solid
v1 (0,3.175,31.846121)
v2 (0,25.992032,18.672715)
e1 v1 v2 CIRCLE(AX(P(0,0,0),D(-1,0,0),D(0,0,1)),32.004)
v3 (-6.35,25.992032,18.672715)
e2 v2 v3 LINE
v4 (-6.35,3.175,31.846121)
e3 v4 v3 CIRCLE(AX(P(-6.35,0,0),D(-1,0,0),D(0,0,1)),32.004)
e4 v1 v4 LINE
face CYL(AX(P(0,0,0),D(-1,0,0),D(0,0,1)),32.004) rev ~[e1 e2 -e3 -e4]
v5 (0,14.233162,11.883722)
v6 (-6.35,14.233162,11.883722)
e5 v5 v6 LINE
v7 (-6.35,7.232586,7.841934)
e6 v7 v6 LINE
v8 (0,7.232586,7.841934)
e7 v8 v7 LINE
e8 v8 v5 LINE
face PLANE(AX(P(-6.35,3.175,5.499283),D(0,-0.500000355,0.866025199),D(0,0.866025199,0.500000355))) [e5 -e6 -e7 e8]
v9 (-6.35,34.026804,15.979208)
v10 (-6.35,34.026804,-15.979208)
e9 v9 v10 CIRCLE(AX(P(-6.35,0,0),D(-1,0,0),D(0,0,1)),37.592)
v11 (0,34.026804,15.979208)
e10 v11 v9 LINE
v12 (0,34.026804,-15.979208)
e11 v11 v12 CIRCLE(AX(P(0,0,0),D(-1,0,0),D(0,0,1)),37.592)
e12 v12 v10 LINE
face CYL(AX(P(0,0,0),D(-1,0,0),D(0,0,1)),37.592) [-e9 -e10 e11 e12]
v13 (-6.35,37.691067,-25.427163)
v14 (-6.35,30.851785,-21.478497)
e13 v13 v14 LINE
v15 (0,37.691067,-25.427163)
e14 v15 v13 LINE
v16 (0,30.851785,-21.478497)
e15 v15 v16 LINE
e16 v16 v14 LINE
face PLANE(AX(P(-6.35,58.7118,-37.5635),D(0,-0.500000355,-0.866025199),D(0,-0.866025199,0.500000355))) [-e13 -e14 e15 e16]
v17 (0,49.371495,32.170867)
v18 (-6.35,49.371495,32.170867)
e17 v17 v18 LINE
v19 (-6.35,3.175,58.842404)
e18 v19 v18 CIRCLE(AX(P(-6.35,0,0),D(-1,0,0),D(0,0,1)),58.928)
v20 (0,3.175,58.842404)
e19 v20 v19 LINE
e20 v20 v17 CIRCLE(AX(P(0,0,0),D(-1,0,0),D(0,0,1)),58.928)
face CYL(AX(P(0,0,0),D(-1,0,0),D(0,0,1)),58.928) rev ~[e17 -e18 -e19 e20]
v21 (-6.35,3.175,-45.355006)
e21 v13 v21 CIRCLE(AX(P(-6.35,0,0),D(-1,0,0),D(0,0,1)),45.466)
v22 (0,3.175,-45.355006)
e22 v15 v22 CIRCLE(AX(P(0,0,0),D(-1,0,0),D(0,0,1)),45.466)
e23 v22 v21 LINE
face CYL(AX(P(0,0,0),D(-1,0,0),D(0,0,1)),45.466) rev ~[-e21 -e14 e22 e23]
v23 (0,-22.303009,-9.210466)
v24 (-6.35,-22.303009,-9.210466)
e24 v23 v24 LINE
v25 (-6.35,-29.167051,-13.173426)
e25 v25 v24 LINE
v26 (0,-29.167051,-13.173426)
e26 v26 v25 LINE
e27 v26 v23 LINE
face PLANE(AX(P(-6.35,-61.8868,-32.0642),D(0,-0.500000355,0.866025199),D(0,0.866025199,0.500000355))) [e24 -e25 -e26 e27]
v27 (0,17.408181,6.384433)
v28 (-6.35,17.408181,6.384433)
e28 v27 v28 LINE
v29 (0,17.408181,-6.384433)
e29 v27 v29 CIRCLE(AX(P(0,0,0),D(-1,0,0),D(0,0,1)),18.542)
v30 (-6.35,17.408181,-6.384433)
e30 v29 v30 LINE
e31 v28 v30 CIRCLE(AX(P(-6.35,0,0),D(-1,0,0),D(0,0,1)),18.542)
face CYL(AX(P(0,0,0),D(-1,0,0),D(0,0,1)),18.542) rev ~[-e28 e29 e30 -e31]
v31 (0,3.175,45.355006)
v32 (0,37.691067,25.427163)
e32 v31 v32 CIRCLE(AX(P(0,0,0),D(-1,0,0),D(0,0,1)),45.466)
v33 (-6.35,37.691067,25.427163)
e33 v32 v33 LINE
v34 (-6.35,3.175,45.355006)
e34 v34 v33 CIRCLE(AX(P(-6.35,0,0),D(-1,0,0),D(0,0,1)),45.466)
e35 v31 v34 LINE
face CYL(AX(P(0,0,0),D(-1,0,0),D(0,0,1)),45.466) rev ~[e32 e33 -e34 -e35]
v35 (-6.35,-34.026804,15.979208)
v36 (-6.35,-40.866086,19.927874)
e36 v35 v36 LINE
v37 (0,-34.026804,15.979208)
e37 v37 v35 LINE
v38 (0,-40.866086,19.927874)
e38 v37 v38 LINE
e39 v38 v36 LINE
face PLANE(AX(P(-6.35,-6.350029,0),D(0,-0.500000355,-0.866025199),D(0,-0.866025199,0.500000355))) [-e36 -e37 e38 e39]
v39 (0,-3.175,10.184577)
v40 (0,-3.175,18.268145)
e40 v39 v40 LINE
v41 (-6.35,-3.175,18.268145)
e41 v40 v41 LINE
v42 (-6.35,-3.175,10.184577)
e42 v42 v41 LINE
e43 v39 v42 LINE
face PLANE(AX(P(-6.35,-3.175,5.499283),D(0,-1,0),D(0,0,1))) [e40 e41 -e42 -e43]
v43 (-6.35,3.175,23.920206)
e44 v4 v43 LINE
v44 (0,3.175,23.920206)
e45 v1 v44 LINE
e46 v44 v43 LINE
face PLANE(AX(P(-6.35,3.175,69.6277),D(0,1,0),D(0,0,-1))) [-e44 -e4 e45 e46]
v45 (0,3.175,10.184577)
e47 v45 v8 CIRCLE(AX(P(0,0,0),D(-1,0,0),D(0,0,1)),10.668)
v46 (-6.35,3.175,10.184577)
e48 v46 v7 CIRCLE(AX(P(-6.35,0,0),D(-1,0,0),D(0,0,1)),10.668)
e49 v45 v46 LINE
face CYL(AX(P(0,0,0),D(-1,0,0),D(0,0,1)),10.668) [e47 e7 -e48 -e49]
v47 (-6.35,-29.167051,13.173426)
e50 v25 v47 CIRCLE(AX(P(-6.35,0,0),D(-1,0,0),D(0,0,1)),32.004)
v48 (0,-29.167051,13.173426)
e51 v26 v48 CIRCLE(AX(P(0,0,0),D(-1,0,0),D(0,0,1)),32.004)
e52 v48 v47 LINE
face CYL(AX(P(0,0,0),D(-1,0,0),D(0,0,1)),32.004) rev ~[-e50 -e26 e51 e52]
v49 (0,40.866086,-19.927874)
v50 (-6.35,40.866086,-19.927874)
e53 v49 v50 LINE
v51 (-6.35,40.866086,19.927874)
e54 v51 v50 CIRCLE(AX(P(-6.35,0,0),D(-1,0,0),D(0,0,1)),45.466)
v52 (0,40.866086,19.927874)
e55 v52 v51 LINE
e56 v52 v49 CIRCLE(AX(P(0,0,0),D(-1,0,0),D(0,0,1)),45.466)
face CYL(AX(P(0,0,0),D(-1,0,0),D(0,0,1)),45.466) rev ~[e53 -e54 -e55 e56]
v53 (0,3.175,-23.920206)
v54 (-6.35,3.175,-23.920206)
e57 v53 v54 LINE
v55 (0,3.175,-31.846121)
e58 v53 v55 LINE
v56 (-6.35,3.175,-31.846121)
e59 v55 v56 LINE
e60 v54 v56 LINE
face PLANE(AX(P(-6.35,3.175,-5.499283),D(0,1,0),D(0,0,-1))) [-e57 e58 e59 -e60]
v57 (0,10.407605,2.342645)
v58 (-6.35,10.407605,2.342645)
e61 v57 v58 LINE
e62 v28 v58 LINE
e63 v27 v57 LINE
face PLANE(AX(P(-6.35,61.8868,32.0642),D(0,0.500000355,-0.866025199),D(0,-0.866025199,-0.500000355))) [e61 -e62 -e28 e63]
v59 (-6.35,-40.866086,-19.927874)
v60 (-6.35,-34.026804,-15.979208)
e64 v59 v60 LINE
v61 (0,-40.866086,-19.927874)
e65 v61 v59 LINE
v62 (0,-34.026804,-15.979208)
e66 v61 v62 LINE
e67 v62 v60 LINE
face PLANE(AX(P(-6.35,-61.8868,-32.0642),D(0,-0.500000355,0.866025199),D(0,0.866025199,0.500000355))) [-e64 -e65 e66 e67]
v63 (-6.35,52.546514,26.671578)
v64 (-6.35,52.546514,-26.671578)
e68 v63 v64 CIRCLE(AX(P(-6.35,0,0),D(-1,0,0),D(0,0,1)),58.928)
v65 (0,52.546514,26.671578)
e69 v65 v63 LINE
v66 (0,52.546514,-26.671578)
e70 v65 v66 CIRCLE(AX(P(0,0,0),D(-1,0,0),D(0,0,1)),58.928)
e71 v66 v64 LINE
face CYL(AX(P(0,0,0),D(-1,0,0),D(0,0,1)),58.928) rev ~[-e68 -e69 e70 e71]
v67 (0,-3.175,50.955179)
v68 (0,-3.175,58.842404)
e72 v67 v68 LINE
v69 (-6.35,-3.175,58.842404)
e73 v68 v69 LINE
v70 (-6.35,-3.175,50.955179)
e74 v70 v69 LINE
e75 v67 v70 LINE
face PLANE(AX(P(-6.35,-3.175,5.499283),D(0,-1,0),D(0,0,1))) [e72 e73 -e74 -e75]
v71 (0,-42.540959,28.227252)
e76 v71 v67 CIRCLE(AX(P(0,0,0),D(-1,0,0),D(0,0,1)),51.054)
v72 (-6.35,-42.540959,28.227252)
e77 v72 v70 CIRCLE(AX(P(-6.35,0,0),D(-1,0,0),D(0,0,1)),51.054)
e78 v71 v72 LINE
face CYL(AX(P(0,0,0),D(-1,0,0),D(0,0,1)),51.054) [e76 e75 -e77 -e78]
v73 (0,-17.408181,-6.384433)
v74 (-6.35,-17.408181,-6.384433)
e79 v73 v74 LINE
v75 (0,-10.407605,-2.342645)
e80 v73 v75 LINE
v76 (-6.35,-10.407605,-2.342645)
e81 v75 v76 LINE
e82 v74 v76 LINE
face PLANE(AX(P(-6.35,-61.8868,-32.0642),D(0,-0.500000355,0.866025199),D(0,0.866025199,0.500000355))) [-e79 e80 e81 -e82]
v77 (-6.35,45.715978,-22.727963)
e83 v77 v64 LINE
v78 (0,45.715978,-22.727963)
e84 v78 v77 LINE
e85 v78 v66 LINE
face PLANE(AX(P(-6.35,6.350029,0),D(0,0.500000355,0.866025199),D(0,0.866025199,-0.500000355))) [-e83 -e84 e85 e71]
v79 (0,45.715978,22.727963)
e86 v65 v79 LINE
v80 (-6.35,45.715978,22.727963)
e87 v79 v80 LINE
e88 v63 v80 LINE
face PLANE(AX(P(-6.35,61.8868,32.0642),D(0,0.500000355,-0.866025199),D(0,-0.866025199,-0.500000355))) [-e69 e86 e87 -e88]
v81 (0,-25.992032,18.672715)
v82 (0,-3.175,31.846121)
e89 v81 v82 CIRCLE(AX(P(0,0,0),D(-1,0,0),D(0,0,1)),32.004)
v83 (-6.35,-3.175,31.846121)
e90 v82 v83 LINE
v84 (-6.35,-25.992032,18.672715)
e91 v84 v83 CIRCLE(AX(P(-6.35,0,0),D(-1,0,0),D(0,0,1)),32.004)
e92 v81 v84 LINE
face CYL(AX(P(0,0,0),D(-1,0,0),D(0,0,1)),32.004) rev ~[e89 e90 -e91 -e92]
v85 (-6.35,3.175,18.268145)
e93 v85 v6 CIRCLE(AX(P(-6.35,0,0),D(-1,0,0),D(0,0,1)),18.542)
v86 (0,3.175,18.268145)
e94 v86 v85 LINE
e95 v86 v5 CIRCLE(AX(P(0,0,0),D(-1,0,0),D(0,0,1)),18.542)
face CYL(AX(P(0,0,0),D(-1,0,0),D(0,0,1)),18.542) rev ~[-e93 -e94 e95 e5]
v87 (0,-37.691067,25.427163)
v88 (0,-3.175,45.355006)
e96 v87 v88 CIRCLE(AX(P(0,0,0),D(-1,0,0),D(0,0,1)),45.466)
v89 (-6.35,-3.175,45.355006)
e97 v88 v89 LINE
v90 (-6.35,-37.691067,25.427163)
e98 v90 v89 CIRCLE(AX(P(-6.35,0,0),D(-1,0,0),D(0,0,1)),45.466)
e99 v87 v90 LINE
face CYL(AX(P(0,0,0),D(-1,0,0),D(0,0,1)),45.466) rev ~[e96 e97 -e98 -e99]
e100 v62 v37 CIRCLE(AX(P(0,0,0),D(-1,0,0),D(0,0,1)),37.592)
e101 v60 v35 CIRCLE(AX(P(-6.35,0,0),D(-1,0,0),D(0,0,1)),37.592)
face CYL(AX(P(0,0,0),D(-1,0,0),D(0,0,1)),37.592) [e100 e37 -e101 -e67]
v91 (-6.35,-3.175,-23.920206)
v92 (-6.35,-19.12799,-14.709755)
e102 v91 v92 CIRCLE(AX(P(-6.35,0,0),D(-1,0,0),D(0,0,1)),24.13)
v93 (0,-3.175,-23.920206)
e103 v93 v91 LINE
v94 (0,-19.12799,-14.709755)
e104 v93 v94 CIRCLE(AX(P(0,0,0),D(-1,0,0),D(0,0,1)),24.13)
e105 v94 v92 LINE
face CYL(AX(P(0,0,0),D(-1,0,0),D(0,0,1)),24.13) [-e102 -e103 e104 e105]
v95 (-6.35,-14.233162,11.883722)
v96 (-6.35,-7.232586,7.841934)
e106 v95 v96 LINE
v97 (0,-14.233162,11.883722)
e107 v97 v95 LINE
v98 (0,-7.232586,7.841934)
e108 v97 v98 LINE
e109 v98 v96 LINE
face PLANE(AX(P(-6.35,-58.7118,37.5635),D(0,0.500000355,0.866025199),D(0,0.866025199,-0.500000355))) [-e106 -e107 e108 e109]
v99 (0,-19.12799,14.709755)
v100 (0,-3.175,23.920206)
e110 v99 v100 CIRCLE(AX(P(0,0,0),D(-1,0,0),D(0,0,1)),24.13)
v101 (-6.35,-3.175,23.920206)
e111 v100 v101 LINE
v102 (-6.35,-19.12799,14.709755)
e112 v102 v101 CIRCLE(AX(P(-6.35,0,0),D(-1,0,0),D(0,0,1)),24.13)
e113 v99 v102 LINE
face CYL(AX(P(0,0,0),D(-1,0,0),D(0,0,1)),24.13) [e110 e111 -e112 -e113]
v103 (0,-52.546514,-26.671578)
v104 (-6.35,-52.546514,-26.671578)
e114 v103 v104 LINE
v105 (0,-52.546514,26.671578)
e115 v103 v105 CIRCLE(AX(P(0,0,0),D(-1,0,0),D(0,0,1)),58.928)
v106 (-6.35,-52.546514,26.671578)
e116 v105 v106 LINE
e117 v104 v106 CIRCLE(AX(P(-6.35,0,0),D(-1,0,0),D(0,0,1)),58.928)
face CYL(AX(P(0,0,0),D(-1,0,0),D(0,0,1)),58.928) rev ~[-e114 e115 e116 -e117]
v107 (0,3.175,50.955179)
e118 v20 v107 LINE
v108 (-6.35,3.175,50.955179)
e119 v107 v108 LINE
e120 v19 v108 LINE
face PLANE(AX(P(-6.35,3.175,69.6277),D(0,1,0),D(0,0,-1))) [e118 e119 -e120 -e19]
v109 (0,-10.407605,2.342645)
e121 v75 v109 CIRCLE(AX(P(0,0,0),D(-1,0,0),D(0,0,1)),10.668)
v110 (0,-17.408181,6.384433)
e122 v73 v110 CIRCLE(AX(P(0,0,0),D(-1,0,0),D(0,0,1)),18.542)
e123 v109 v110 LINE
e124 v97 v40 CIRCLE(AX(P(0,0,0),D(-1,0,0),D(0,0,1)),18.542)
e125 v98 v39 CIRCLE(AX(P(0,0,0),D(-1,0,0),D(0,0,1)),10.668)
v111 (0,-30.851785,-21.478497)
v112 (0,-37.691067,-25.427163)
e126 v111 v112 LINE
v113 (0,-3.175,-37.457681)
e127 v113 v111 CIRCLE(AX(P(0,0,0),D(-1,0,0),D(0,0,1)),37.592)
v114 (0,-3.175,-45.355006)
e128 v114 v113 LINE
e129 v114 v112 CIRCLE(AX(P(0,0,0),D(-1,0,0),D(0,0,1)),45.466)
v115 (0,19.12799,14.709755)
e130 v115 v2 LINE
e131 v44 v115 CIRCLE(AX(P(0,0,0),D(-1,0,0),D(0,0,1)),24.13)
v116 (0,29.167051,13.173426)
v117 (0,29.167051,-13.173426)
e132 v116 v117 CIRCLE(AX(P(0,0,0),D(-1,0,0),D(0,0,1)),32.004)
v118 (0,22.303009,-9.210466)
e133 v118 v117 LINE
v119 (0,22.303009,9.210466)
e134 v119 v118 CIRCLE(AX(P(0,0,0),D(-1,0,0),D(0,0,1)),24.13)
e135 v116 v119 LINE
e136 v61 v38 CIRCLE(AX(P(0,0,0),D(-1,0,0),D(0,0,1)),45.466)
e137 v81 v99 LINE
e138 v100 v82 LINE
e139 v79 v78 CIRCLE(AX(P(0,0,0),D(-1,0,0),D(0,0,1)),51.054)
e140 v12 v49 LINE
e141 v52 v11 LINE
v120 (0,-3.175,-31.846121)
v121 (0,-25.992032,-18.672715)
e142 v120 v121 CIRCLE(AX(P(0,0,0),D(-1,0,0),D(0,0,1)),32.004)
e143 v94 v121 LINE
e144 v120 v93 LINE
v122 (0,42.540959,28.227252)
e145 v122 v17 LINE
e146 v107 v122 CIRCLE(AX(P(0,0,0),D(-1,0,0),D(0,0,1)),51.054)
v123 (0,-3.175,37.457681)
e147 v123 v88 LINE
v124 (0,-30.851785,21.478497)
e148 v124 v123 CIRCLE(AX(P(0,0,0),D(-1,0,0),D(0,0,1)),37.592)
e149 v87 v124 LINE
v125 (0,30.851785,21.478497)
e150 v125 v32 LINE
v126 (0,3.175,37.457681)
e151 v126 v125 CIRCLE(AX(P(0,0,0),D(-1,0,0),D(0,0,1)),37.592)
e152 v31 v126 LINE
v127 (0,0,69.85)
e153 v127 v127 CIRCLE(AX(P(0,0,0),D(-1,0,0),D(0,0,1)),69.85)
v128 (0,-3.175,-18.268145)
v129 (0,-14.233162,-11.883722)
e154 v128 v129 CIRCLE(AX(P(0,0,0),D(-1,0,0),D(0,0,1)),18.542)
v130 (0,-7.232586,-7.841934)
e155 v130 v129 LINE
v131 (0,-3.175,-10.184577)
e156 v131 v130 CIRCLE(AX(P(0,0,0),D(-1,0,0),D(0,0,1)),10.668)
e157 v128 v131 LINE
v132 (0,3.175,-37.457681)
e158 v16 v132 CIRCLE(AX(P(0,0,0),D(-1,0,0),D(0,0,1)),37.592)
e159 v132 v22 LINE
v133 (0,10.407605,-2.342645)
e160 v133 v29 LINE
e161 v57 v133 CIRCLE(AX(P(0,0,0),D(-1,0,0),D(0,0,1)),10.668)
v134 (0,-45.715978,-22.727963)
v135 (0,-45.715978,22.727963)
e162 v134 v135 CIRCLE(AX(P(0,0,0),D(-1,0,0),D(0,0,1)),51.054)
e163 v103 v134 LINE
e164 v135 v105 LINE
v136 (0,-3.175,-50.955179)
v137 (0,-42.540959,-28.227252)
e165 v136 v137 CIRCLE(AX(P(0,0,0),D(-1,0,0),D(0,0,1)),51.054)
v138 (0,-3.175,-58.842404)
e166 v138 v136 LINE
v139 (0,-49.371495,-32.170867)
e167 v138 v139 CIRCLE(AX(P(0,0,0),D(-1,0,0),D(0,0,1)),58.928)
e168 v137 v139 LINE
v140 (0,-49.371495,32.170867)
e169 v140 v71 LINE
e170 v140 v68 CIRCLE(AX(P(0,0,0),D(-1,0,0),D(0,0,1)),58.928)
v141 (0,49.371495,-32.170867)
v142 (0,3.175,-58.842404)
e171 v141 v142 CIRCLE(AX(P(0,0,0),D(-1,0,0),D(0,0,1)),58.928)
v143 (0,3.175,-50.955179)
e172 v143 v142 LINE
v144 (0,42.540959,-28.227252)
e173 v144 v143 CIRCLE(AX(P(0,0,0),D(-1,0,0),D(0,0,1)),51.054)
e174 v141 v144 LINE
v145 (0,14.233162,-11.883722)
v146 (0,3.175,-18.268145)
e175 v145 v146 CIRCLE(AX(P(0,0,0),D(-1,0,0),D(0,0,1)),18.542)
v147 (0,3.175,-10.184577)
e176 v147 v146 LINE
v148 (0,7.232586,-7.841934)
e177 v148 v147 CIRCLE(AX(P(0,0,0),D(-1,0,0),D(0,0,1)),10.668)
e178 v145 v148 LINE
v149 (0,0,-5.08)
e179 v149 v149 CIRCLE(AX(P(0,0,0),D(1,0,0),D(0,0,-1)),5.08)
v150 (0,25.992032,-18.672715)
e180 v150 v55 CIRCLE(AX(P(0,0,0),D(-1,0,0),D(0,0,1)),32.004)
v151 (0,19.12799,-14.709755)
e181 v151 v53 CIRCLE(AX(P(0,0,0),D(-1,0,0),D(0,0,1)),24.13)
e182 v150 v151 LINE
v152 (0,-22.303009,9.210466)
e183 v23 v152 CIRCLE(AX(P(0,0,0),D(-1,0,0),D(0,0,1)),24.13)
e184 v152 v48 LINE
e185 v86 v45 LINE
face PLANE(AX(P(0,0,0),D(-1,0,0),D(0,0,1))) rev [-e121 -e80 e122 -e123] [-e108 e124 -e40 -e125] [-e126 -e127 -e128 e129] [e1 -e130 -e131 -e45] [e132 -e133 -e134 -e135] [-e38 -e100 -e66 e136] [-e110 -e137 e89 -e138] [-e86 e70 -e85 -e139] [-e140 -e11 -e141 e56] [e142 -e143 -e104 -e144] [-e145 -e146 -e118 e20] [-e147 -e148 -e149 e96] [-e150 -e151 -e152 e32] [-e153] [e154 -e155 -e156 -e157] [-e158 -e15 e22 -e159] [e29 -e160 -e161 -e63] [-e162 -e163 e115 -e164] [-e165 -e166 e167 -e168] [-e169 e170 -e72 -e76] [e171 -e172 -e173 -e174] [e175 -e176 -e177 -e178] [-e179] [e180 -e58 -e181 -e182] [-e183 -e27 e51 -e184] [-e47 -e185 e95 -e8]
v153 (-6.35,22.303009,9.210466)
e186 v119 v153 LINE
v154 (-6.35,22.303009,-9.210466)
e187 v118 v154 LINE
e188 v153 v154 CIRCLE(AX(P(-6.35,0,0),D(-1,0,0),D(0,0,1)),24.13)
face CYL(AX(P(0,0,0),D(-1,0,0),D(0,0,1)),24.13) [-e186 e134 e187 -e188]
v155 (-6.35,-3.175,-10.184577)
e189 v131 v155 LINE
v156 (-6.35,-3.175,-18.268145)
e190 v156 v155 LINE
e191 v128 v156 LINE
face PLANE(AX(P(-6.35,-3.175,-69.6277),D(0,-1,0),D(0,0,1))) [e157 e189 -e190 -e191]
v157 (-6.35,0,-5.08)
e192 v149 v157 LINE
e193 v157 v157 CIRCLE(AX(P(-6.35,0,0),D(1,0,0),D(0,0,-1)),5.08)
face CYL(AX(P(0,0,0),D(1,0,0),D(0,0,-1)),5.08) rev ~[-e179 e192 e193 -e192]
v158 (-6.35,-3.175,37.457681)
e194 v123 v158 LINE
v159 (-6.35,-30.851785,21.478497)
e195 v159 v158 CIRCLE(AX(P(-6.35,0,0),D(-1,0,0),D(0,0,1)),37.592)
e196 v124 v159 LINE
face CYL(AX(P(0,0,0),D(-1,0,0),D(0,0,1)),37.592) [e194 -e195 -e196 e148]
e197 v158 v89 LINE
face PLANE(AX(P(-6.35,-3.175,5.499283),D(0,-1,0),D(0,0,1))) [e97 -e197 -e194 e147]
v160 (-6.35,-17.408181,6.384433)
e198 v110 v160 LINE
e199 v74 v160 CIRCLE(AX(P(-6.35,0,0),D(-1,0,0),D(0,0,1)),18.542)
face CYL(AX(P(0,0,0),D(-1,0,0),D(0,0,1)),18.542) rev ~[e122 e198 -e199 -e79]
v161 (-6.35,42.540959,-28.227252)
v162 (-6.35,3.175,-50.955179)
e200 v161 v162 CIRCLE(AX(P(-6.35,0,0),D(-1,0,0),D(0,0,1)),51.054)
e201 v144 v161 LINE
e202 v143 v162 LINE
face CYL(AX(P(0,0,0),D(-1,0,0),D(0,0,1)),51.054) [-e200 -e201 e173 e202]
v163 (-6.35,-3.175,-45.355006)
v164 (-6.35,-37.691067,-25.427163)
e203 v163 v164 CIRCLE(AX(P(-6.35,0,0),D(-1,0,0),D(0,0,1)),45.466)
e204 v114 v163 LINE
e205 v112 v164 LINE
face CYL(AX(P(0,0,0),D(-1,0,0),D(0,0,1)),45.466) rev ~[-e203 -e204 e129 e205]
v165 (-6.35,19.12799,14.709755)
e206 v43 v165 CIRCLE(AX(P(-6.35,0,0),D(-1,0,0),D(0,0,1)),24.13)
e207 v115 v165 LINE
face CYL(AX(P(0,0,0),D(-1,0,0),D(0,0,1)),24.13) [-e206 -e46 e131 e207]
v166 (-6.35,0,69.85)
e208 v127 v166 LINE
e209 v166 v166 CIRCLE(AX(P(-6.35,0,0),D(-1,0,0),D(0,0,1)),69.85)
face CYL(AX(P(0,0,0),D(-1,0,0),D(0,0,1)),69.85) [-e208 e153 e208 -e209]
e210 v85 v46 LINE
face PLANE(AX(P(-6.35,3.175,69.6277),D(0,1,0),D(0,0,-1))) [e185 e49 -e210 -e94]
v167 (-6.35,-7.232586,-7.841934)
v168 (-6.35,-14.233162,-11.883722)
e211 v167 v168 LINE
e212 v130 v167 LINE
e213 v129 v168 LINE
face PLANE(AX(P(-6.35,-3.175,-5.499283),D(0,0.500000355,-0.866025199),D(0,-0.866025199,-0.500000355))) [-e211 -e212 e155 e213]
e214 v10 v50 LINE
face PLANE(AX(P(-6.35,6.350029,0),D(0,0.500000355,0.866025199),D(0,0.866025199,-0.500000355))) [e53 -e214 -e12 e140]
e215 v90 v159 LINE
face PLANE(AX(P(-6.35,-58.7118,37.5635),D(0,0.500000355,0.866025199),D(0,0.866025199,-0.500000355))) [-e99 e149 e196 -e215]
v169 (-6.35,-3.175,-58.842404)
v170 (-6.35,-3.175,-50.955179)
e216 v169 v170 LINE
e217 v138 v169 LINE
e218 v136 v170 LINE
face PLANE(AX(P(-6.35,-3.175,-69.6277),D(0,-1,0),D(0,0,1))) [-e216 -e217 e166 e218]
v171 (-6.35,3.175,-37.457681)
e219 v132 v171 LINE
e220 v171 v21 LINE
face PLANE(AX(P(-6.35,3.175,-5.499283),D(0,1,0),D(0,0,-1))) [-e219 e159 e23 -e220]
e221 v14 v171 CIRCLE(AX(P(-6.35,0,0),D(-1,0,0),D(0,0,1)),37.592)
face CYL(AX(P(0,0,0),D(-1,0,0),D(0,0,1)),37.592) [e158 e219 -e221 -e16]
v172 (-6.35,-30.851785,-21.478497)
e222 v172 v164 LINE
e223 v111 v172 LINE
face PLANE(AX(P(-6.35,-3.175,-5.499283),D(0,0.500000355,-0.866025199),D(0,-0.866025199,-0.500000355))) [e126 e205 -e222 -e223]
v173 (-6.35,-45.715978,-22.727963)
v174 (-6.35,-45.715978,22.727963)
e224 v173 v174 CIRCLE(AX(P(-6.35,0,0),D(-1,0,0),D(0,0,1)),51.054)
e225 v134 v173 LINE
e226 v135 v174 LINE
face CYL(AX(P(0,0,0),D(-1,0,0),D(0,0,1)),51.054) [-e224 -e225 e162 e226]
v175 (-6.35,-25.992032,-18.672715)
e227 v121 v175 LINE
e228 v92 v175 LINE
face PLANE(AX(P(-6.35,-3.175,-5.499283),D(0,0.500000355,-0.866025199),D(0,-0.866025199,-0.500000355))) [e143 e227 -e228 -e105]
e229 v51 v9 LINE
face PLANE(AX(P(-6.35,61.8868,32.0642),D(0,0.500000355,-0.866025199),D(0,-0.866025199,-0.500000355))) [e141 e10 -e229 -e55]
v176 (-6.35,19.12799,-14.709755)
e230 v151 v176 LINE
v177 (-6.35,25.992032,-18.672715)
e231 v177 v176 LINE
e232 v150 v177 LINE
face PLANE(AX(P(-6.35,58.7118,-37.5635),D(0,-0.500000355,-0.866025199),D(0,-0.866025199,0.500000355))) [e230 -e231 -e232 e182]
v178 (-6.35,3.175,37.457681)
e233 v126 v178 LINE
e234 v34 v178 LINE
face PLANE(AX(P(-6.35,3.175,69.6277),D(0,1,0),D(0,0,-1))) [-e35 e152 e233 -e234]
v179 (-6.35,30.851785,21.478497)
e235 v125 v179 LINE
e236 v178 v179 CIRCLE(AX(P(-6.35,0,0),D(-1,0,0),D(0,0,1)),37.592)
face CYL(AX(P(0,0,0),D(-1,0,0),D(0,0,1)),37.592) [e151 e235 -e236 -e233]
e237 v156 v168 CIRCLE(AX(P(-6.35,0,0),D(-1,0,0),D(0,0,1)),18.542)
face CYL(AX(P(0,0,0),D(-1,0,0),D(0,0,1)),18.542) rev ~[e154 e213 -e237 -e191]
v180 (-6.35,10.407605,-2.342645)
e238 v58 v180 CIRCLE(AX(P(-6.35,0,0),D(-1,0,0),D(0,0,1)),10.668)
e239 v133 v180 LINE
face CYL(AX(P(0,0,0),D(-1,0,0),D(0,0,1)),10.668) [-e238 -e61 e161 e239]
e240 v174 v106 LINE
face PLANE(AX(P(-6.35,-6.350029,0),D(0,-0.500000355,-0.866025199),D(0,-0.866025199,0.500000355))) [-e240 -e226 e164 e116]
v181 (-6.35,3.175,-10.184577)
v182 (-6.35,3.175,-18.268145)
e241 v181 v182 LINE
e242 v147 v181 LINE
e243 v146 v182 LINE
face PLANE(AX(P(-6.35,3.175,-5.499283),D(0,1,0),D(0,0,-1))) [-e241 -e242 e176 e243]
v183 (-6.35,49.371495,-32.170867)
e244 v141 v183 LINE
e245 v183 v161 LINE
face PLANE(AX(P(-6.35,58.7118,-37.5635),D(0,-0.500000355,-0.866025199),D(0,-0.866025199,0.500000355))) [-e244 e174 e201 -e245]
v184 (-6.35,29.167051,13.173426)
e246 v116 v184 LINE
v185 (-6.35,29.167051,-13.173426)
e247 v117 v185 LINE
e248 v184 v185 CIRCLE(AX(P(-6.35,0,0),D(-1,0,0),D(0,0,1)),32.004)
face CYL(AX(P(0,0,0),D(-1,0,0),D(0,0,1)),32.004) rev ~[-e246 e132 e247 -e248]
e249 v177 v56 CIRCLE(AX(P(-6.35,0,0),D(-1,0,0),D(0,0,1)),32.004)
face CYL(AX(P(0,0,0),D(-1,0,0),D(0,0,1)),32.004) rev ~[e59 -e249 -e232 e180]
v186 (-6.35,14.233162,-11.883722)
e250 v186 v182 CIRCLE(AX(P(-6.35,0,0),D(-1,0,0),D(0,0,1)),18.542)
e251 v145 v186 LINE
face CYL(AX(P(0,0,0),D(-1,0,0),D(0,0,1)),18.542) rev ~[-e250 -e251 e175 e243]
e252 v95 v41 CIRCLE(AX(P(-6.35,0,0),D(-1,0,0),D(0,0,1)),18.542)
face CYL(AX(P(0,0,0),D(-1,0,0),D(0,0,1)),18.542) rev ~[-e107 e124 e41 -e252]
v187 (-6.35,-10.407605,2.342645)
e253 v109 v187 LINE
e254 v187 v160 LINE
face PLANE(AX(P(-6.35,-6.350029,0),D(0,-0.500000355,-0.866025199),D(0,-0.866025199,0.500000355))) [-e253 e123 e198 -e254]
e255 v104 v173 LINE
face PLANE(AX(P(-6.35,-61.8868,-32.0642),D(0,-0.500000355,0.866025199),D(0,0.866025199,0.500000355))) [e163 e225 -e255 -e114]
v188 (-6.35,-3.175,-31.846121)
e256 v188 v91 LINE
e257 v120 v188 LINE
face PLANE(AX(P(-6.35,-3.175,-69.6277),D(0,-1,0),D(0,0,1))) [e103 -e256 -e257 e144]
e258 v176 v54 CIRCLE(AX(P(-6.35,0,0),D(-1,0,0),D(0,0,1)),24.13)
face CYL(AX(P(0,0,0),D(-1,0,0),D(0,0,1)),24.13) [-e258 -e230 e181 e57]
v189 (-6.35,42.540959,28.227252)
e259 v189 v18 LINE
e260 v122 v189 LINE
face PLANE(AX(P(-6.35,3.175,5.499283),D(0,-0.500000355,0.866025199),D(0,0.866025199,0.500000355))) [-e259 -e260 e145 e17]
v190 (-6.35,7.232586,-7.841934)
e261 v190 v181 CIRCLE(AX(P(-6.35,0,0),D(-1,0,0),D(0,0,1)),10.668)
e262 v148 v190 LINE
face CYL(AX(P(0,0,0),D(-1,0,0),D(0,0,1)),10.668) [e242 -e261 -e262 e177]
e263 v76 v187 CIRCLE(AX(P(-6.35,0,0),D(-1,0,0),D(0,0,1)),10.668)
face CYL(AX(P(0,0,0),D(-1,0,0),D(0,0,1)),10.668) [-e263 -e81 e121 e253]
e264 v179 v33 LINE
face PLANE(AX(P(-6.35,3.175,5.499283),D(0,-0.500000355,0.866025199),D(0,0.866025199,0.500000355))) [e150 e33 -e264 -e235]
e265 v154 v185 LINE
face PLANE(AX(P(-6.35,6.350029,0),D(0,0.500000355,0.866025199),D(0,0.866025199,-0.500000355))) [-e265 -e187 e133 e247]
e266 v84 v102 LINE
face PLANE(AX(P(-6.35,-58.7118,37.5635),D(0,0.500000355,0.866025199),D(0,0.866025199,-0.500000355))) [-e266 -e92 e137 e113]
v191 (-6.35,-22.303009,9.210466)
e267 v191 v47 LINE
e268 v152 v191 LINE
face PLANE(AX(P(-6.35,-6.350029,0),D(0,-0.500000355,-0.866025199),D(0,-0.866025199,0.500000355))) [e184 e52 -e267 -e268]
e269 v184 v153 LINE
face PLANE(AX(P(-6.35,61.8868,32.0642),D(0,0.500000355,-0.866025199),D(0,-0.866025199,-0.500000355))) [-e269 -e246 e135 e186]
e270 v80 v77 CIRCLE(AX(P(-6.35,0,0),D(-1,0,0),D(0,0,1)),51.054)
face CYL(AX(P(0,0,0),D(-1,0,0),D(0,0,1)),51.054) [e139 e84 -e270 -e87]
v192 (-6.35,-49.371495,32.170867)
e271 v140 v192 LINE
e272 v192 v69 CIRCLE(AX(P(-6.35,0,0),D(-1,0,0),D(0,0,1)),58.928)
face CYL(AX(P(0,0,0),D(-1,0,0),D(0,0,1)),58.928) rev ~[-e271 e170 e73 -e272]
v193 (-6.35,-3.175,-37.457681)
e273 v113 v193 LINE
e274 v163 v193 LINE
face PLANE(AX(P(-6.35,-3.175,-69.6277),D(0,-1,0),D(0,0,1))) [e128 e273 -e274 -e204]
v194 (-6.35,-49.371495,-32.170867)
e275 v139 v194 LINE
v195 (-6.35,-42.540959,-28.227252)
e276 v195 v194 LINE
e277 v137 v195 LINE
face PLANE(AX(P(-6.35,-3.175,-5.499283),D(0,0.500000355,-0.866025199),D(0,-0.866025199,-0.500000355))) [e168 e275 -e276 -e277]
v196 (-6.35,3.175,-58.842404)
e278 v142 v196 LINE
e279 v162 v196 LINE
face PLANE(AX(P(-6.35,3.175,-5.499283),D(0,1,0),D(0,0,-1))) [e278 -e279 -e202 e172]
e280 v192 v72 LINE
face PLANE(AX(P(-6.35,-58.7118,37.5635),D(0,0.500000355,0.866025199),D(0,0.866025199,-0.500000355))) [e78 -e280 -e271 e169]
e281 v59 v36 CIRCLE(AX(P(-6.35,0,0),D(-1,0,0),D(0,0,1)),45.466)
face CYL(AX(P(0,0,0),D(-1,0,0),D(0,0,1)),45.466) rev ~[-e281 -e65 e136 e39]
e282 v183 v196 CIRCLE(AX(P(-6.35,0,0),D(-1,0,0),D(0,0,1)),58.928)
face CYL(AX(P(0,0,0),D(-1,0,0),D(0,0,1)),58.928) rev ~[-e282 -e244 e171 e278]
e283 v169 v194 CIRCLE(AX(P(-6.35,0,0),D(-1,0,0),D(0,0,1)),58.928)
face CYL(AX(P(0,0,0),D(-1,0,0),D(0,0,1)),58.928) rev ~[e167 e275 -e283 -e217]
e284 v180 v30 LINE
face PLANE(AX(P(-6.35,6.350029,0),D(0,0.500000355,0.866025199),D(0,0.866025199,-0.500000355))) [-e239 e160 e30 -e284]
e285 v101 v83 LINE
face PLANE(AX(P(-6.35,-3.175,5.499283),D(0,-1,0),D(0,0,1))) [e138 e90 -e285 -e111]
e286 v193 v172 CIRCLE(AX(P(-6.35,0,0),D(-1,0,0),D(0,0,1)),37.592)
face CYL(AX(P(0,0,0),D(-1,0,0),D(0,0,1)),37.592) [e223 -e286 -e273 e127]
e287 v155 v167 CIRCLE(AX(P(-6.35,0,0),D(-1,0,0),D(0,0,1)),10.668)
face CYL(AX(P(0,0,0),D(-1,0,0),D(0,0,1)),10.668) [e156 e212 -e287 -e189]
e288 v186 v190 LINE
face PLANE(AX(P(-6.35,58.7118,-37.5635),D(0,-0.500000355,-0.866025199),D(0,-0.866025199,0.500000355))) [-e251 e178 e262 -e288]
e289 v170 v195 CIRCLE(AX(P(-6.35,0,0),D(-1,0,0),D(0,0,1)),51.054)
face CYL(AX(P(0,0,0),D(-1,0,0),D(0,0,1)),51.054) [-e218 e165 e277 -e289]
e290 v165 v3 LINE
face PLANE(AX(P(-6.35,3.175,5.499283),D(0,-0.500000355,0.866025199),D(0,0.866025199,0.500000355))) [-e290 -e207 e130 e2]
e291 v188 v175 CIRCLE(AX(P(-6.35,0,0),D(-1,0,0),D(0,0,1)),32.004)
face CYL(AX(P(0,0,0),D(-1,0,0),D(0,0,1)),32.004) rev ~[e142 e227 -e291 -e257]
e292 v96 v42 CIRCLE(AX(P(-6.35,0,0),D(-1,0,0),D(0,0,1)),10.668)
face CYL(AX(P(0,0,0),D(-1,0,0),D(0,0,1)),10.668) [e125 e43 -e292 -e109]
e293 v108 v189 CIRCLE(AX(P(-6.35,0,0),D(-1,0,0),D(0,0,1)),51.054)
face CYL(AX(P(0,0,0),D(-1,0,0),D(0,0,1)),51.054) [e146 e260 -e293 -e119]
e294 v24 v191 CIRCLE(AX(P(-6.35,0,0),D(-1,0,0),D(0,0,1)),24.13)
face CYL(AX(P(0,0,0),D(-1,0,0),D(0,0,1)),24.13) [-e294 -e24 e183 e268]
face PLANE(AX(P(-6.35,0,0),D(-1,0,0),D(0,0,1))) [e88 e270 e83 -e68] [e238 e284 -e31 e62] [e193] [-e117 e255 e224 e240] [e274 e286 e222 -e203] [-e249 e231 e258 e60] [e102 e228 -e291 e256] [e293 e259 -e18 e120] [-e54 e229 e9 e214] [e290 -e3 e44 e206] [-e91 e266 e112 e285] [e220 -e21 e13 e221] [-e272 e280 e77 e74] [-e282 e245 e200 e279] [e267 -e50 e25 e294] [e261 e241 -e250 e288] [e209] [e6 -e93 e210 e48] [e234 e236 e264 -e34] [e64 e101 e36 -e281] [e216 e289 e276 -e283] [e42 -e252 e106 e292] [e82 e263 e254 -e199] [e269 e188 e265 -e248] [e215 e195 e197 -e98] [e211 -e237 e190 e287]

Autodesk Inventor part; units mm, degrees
ref_plane "YZ Plane" through (0, 0, 0) normal (1, 0, 0) x (0, 1, 0)
ref_plane "XZ Plane" through (0, 0, 0) normal (0, 1, 0) x (-1, 0, 0)
ref_plane "XY Plane" through (0, 0, 0) normal (0, 0, 1) x (1, 0, 0)
sketch "Sketch1" plane through (0, 0, 0) normal (0, 1, 0) x (-1, 0, 0)
  line L0 (0, 5.08) -> (0, 10.668)
  line L1 (0, 0) -> (0, 10.668) construction
  line L2 (0, 10.668) -> (0, 18.542)
  line L3 (0, 18.542) -> (0, 24.13)
  line L4 (0, 24.13) -> (0, 32.004)
  line L5 (0, 32.004) -> (0, 37.592)
  line L6 (0, 37.592) -> (0, 45.466)
  line L7 (0, 45.466) -> (0, 51.054)
  line L8 (0, 51.054) -> (0, 58.928)
  line L9 (0, 58.928) -> (0, 66.802)
  line L10 (0, 0) -> (8.7387, 6.1189) construction
  line L11 (0, 0) -> (0, 18.542) construction
  line L12 (0, 0) -> (0, 24.13) construction
  line L13 (0, 0) -> (0, 32.004) construction
  line L14 (0, 0) -> (0, 37.592) construction
  line L15 (0, 0) -> (0, 45.466) construction
  line L16 (0, 0) -> (0, 51.054) construction
  line L17 (0, 0) -> (0, 58.928) construction
  line L18 (0, 0) -> (0, 66.802) construction
  line L19 (0, 0) -> (69.85, 0) construction
  line L20 (0, 0) -> (69.85, 0) construction
  line L21 (0, 66.802) -> (0, 69.85)
  line L22 (0, 0) -> (0, 5.08)
  line L23 (0, 69.85) -> (6.35, 69.85)
  line L24 (6.35, 69.85) -> (6.35, 0)
  line L25 (0, 5.08) -> (6.35, 5.08)
  line L26 (0, 10.668) -> (6.35, 10.668)
  line L27 (0, 18.542) -> (6.35, 18.542)
  line L28 (0, 24.13) -> (6.35, 24.13)
  line L29 (0, 32.004) -> (6.35, 32.004)
  line L30 (0, 37.592) -> (6.35, 37.592)
  line L31 (0, 45.466) -> (6.35, 45.466)
  line L32 (0, 51.054) -> (6.35, 51.054)
  line L33 (0, 58.928) -> (6.35, 58.928)
  dimension "d2" = 5.588
  dimension "d4" = 7.874
  dimension "d5" = 5.588
  dimension "d6" = 7.874
  dimension "d7" = 5.588
  dimension "d8" = 7.874
  dimension "d9" = 5.588
  dimension "d10" = 7.874
  dimension "d11" = 7.874
  dimension "d24" = 5.08
  dimension "d25" = 6.35
  dimension "d26" = 3.048
revolve "Revolution1" add sketch "Sketch1" angle 360 about axis through (0, 0, 0) along (-1, 0, 0) contours L0 L26 L24 L25 | L3 L28 L24 L27 | L5 L30 L24 L29 | L7 L32 L24 L31 | L9 L21 L23 L24 L33
sketch "Sketch2" plane through (-6.35, 0, 0) normal (-1, 0, 0) x (0, 0, 1)
  line L0 (69.6277, 3.175) -> (-69.6277, 3.175)
  line L1 (-69.6277, 3.175) -> (-69.6277, -3.175)
  line L2 (-69.6277, -3.175) -> (69.6277, -3.175)
  line L3 (69.6277, -3.175) -> (69.6277, 3.175)
  circle A0 centre (0, 0) radius 5.08 projected
  line L4 (69.6277, 3.175) -> (-69.6277, -3.175) construction
  line L5 (-69.6277, 3.175) -> (69.6277, -3.175) construction
  line L6 (32.0642, 61.8868) -> (-37.5635, -58.7118)
  line L7 (-32.0642, -61.8868) -> (37.5635, 58.7118)
  line L8 (-37.5635, -58.7118) -> (-32.0642, -61.8868)
  line L9 (37.5635, 58.7118) -> (32.0642, 61.8868)
  line L10 (37.5635, -58.7118) -> (-32.0642, 61.8868)
  line L11 (-37.5635, 58.7118) -> (32.0642, -61.8868)
  line L12 (-32.0642, 61.8868) -> (-37.5635, 58.7118)
  line L13 (32.0642, -61.8868) -> (37.5635, -58.7118)
  point P0 (-5.4993, 3.175)
  point P1 (-5.4993, -3.175)
  point P2 (0, -6.35)
  point P3 (5.4993, -3.175)
  point P4 (5.4993, 3.175)
  point P5 (0, 6.35)
  dimension "d28" = 6.35
  dimension "d31" = 360
extrude "Extrusion1" add sketch "Sketch2" against normal blind 6.35
sketch "Sketch3" plane through (0, 0, 0) normal (1, 0, 0) x (0, 0, -1)
  circle A0 centre (0, 0) radius 5.08
  dimension "d35" = 10.16
extrude "Extrusion2" cut sketch "Sketch3" against normal blind 25.4
equation "\"d2\" = PR"
equation "\"d4\" = HR"
equation "\"d5\" = PR"
equation "\"d6\" = HR"
equation "\"d7\" = PR"
equation "\"d8\" = HR"
equation "\"d9\" = PR"
equation "\"d10\" = HR"
equation "\"d11\" = HR"
equation "\"HR\" = 7.874"
equation "\"PR\" = 5.588"
equation "\"HA\" = 55deg"
properties part number "flat drain cover"
